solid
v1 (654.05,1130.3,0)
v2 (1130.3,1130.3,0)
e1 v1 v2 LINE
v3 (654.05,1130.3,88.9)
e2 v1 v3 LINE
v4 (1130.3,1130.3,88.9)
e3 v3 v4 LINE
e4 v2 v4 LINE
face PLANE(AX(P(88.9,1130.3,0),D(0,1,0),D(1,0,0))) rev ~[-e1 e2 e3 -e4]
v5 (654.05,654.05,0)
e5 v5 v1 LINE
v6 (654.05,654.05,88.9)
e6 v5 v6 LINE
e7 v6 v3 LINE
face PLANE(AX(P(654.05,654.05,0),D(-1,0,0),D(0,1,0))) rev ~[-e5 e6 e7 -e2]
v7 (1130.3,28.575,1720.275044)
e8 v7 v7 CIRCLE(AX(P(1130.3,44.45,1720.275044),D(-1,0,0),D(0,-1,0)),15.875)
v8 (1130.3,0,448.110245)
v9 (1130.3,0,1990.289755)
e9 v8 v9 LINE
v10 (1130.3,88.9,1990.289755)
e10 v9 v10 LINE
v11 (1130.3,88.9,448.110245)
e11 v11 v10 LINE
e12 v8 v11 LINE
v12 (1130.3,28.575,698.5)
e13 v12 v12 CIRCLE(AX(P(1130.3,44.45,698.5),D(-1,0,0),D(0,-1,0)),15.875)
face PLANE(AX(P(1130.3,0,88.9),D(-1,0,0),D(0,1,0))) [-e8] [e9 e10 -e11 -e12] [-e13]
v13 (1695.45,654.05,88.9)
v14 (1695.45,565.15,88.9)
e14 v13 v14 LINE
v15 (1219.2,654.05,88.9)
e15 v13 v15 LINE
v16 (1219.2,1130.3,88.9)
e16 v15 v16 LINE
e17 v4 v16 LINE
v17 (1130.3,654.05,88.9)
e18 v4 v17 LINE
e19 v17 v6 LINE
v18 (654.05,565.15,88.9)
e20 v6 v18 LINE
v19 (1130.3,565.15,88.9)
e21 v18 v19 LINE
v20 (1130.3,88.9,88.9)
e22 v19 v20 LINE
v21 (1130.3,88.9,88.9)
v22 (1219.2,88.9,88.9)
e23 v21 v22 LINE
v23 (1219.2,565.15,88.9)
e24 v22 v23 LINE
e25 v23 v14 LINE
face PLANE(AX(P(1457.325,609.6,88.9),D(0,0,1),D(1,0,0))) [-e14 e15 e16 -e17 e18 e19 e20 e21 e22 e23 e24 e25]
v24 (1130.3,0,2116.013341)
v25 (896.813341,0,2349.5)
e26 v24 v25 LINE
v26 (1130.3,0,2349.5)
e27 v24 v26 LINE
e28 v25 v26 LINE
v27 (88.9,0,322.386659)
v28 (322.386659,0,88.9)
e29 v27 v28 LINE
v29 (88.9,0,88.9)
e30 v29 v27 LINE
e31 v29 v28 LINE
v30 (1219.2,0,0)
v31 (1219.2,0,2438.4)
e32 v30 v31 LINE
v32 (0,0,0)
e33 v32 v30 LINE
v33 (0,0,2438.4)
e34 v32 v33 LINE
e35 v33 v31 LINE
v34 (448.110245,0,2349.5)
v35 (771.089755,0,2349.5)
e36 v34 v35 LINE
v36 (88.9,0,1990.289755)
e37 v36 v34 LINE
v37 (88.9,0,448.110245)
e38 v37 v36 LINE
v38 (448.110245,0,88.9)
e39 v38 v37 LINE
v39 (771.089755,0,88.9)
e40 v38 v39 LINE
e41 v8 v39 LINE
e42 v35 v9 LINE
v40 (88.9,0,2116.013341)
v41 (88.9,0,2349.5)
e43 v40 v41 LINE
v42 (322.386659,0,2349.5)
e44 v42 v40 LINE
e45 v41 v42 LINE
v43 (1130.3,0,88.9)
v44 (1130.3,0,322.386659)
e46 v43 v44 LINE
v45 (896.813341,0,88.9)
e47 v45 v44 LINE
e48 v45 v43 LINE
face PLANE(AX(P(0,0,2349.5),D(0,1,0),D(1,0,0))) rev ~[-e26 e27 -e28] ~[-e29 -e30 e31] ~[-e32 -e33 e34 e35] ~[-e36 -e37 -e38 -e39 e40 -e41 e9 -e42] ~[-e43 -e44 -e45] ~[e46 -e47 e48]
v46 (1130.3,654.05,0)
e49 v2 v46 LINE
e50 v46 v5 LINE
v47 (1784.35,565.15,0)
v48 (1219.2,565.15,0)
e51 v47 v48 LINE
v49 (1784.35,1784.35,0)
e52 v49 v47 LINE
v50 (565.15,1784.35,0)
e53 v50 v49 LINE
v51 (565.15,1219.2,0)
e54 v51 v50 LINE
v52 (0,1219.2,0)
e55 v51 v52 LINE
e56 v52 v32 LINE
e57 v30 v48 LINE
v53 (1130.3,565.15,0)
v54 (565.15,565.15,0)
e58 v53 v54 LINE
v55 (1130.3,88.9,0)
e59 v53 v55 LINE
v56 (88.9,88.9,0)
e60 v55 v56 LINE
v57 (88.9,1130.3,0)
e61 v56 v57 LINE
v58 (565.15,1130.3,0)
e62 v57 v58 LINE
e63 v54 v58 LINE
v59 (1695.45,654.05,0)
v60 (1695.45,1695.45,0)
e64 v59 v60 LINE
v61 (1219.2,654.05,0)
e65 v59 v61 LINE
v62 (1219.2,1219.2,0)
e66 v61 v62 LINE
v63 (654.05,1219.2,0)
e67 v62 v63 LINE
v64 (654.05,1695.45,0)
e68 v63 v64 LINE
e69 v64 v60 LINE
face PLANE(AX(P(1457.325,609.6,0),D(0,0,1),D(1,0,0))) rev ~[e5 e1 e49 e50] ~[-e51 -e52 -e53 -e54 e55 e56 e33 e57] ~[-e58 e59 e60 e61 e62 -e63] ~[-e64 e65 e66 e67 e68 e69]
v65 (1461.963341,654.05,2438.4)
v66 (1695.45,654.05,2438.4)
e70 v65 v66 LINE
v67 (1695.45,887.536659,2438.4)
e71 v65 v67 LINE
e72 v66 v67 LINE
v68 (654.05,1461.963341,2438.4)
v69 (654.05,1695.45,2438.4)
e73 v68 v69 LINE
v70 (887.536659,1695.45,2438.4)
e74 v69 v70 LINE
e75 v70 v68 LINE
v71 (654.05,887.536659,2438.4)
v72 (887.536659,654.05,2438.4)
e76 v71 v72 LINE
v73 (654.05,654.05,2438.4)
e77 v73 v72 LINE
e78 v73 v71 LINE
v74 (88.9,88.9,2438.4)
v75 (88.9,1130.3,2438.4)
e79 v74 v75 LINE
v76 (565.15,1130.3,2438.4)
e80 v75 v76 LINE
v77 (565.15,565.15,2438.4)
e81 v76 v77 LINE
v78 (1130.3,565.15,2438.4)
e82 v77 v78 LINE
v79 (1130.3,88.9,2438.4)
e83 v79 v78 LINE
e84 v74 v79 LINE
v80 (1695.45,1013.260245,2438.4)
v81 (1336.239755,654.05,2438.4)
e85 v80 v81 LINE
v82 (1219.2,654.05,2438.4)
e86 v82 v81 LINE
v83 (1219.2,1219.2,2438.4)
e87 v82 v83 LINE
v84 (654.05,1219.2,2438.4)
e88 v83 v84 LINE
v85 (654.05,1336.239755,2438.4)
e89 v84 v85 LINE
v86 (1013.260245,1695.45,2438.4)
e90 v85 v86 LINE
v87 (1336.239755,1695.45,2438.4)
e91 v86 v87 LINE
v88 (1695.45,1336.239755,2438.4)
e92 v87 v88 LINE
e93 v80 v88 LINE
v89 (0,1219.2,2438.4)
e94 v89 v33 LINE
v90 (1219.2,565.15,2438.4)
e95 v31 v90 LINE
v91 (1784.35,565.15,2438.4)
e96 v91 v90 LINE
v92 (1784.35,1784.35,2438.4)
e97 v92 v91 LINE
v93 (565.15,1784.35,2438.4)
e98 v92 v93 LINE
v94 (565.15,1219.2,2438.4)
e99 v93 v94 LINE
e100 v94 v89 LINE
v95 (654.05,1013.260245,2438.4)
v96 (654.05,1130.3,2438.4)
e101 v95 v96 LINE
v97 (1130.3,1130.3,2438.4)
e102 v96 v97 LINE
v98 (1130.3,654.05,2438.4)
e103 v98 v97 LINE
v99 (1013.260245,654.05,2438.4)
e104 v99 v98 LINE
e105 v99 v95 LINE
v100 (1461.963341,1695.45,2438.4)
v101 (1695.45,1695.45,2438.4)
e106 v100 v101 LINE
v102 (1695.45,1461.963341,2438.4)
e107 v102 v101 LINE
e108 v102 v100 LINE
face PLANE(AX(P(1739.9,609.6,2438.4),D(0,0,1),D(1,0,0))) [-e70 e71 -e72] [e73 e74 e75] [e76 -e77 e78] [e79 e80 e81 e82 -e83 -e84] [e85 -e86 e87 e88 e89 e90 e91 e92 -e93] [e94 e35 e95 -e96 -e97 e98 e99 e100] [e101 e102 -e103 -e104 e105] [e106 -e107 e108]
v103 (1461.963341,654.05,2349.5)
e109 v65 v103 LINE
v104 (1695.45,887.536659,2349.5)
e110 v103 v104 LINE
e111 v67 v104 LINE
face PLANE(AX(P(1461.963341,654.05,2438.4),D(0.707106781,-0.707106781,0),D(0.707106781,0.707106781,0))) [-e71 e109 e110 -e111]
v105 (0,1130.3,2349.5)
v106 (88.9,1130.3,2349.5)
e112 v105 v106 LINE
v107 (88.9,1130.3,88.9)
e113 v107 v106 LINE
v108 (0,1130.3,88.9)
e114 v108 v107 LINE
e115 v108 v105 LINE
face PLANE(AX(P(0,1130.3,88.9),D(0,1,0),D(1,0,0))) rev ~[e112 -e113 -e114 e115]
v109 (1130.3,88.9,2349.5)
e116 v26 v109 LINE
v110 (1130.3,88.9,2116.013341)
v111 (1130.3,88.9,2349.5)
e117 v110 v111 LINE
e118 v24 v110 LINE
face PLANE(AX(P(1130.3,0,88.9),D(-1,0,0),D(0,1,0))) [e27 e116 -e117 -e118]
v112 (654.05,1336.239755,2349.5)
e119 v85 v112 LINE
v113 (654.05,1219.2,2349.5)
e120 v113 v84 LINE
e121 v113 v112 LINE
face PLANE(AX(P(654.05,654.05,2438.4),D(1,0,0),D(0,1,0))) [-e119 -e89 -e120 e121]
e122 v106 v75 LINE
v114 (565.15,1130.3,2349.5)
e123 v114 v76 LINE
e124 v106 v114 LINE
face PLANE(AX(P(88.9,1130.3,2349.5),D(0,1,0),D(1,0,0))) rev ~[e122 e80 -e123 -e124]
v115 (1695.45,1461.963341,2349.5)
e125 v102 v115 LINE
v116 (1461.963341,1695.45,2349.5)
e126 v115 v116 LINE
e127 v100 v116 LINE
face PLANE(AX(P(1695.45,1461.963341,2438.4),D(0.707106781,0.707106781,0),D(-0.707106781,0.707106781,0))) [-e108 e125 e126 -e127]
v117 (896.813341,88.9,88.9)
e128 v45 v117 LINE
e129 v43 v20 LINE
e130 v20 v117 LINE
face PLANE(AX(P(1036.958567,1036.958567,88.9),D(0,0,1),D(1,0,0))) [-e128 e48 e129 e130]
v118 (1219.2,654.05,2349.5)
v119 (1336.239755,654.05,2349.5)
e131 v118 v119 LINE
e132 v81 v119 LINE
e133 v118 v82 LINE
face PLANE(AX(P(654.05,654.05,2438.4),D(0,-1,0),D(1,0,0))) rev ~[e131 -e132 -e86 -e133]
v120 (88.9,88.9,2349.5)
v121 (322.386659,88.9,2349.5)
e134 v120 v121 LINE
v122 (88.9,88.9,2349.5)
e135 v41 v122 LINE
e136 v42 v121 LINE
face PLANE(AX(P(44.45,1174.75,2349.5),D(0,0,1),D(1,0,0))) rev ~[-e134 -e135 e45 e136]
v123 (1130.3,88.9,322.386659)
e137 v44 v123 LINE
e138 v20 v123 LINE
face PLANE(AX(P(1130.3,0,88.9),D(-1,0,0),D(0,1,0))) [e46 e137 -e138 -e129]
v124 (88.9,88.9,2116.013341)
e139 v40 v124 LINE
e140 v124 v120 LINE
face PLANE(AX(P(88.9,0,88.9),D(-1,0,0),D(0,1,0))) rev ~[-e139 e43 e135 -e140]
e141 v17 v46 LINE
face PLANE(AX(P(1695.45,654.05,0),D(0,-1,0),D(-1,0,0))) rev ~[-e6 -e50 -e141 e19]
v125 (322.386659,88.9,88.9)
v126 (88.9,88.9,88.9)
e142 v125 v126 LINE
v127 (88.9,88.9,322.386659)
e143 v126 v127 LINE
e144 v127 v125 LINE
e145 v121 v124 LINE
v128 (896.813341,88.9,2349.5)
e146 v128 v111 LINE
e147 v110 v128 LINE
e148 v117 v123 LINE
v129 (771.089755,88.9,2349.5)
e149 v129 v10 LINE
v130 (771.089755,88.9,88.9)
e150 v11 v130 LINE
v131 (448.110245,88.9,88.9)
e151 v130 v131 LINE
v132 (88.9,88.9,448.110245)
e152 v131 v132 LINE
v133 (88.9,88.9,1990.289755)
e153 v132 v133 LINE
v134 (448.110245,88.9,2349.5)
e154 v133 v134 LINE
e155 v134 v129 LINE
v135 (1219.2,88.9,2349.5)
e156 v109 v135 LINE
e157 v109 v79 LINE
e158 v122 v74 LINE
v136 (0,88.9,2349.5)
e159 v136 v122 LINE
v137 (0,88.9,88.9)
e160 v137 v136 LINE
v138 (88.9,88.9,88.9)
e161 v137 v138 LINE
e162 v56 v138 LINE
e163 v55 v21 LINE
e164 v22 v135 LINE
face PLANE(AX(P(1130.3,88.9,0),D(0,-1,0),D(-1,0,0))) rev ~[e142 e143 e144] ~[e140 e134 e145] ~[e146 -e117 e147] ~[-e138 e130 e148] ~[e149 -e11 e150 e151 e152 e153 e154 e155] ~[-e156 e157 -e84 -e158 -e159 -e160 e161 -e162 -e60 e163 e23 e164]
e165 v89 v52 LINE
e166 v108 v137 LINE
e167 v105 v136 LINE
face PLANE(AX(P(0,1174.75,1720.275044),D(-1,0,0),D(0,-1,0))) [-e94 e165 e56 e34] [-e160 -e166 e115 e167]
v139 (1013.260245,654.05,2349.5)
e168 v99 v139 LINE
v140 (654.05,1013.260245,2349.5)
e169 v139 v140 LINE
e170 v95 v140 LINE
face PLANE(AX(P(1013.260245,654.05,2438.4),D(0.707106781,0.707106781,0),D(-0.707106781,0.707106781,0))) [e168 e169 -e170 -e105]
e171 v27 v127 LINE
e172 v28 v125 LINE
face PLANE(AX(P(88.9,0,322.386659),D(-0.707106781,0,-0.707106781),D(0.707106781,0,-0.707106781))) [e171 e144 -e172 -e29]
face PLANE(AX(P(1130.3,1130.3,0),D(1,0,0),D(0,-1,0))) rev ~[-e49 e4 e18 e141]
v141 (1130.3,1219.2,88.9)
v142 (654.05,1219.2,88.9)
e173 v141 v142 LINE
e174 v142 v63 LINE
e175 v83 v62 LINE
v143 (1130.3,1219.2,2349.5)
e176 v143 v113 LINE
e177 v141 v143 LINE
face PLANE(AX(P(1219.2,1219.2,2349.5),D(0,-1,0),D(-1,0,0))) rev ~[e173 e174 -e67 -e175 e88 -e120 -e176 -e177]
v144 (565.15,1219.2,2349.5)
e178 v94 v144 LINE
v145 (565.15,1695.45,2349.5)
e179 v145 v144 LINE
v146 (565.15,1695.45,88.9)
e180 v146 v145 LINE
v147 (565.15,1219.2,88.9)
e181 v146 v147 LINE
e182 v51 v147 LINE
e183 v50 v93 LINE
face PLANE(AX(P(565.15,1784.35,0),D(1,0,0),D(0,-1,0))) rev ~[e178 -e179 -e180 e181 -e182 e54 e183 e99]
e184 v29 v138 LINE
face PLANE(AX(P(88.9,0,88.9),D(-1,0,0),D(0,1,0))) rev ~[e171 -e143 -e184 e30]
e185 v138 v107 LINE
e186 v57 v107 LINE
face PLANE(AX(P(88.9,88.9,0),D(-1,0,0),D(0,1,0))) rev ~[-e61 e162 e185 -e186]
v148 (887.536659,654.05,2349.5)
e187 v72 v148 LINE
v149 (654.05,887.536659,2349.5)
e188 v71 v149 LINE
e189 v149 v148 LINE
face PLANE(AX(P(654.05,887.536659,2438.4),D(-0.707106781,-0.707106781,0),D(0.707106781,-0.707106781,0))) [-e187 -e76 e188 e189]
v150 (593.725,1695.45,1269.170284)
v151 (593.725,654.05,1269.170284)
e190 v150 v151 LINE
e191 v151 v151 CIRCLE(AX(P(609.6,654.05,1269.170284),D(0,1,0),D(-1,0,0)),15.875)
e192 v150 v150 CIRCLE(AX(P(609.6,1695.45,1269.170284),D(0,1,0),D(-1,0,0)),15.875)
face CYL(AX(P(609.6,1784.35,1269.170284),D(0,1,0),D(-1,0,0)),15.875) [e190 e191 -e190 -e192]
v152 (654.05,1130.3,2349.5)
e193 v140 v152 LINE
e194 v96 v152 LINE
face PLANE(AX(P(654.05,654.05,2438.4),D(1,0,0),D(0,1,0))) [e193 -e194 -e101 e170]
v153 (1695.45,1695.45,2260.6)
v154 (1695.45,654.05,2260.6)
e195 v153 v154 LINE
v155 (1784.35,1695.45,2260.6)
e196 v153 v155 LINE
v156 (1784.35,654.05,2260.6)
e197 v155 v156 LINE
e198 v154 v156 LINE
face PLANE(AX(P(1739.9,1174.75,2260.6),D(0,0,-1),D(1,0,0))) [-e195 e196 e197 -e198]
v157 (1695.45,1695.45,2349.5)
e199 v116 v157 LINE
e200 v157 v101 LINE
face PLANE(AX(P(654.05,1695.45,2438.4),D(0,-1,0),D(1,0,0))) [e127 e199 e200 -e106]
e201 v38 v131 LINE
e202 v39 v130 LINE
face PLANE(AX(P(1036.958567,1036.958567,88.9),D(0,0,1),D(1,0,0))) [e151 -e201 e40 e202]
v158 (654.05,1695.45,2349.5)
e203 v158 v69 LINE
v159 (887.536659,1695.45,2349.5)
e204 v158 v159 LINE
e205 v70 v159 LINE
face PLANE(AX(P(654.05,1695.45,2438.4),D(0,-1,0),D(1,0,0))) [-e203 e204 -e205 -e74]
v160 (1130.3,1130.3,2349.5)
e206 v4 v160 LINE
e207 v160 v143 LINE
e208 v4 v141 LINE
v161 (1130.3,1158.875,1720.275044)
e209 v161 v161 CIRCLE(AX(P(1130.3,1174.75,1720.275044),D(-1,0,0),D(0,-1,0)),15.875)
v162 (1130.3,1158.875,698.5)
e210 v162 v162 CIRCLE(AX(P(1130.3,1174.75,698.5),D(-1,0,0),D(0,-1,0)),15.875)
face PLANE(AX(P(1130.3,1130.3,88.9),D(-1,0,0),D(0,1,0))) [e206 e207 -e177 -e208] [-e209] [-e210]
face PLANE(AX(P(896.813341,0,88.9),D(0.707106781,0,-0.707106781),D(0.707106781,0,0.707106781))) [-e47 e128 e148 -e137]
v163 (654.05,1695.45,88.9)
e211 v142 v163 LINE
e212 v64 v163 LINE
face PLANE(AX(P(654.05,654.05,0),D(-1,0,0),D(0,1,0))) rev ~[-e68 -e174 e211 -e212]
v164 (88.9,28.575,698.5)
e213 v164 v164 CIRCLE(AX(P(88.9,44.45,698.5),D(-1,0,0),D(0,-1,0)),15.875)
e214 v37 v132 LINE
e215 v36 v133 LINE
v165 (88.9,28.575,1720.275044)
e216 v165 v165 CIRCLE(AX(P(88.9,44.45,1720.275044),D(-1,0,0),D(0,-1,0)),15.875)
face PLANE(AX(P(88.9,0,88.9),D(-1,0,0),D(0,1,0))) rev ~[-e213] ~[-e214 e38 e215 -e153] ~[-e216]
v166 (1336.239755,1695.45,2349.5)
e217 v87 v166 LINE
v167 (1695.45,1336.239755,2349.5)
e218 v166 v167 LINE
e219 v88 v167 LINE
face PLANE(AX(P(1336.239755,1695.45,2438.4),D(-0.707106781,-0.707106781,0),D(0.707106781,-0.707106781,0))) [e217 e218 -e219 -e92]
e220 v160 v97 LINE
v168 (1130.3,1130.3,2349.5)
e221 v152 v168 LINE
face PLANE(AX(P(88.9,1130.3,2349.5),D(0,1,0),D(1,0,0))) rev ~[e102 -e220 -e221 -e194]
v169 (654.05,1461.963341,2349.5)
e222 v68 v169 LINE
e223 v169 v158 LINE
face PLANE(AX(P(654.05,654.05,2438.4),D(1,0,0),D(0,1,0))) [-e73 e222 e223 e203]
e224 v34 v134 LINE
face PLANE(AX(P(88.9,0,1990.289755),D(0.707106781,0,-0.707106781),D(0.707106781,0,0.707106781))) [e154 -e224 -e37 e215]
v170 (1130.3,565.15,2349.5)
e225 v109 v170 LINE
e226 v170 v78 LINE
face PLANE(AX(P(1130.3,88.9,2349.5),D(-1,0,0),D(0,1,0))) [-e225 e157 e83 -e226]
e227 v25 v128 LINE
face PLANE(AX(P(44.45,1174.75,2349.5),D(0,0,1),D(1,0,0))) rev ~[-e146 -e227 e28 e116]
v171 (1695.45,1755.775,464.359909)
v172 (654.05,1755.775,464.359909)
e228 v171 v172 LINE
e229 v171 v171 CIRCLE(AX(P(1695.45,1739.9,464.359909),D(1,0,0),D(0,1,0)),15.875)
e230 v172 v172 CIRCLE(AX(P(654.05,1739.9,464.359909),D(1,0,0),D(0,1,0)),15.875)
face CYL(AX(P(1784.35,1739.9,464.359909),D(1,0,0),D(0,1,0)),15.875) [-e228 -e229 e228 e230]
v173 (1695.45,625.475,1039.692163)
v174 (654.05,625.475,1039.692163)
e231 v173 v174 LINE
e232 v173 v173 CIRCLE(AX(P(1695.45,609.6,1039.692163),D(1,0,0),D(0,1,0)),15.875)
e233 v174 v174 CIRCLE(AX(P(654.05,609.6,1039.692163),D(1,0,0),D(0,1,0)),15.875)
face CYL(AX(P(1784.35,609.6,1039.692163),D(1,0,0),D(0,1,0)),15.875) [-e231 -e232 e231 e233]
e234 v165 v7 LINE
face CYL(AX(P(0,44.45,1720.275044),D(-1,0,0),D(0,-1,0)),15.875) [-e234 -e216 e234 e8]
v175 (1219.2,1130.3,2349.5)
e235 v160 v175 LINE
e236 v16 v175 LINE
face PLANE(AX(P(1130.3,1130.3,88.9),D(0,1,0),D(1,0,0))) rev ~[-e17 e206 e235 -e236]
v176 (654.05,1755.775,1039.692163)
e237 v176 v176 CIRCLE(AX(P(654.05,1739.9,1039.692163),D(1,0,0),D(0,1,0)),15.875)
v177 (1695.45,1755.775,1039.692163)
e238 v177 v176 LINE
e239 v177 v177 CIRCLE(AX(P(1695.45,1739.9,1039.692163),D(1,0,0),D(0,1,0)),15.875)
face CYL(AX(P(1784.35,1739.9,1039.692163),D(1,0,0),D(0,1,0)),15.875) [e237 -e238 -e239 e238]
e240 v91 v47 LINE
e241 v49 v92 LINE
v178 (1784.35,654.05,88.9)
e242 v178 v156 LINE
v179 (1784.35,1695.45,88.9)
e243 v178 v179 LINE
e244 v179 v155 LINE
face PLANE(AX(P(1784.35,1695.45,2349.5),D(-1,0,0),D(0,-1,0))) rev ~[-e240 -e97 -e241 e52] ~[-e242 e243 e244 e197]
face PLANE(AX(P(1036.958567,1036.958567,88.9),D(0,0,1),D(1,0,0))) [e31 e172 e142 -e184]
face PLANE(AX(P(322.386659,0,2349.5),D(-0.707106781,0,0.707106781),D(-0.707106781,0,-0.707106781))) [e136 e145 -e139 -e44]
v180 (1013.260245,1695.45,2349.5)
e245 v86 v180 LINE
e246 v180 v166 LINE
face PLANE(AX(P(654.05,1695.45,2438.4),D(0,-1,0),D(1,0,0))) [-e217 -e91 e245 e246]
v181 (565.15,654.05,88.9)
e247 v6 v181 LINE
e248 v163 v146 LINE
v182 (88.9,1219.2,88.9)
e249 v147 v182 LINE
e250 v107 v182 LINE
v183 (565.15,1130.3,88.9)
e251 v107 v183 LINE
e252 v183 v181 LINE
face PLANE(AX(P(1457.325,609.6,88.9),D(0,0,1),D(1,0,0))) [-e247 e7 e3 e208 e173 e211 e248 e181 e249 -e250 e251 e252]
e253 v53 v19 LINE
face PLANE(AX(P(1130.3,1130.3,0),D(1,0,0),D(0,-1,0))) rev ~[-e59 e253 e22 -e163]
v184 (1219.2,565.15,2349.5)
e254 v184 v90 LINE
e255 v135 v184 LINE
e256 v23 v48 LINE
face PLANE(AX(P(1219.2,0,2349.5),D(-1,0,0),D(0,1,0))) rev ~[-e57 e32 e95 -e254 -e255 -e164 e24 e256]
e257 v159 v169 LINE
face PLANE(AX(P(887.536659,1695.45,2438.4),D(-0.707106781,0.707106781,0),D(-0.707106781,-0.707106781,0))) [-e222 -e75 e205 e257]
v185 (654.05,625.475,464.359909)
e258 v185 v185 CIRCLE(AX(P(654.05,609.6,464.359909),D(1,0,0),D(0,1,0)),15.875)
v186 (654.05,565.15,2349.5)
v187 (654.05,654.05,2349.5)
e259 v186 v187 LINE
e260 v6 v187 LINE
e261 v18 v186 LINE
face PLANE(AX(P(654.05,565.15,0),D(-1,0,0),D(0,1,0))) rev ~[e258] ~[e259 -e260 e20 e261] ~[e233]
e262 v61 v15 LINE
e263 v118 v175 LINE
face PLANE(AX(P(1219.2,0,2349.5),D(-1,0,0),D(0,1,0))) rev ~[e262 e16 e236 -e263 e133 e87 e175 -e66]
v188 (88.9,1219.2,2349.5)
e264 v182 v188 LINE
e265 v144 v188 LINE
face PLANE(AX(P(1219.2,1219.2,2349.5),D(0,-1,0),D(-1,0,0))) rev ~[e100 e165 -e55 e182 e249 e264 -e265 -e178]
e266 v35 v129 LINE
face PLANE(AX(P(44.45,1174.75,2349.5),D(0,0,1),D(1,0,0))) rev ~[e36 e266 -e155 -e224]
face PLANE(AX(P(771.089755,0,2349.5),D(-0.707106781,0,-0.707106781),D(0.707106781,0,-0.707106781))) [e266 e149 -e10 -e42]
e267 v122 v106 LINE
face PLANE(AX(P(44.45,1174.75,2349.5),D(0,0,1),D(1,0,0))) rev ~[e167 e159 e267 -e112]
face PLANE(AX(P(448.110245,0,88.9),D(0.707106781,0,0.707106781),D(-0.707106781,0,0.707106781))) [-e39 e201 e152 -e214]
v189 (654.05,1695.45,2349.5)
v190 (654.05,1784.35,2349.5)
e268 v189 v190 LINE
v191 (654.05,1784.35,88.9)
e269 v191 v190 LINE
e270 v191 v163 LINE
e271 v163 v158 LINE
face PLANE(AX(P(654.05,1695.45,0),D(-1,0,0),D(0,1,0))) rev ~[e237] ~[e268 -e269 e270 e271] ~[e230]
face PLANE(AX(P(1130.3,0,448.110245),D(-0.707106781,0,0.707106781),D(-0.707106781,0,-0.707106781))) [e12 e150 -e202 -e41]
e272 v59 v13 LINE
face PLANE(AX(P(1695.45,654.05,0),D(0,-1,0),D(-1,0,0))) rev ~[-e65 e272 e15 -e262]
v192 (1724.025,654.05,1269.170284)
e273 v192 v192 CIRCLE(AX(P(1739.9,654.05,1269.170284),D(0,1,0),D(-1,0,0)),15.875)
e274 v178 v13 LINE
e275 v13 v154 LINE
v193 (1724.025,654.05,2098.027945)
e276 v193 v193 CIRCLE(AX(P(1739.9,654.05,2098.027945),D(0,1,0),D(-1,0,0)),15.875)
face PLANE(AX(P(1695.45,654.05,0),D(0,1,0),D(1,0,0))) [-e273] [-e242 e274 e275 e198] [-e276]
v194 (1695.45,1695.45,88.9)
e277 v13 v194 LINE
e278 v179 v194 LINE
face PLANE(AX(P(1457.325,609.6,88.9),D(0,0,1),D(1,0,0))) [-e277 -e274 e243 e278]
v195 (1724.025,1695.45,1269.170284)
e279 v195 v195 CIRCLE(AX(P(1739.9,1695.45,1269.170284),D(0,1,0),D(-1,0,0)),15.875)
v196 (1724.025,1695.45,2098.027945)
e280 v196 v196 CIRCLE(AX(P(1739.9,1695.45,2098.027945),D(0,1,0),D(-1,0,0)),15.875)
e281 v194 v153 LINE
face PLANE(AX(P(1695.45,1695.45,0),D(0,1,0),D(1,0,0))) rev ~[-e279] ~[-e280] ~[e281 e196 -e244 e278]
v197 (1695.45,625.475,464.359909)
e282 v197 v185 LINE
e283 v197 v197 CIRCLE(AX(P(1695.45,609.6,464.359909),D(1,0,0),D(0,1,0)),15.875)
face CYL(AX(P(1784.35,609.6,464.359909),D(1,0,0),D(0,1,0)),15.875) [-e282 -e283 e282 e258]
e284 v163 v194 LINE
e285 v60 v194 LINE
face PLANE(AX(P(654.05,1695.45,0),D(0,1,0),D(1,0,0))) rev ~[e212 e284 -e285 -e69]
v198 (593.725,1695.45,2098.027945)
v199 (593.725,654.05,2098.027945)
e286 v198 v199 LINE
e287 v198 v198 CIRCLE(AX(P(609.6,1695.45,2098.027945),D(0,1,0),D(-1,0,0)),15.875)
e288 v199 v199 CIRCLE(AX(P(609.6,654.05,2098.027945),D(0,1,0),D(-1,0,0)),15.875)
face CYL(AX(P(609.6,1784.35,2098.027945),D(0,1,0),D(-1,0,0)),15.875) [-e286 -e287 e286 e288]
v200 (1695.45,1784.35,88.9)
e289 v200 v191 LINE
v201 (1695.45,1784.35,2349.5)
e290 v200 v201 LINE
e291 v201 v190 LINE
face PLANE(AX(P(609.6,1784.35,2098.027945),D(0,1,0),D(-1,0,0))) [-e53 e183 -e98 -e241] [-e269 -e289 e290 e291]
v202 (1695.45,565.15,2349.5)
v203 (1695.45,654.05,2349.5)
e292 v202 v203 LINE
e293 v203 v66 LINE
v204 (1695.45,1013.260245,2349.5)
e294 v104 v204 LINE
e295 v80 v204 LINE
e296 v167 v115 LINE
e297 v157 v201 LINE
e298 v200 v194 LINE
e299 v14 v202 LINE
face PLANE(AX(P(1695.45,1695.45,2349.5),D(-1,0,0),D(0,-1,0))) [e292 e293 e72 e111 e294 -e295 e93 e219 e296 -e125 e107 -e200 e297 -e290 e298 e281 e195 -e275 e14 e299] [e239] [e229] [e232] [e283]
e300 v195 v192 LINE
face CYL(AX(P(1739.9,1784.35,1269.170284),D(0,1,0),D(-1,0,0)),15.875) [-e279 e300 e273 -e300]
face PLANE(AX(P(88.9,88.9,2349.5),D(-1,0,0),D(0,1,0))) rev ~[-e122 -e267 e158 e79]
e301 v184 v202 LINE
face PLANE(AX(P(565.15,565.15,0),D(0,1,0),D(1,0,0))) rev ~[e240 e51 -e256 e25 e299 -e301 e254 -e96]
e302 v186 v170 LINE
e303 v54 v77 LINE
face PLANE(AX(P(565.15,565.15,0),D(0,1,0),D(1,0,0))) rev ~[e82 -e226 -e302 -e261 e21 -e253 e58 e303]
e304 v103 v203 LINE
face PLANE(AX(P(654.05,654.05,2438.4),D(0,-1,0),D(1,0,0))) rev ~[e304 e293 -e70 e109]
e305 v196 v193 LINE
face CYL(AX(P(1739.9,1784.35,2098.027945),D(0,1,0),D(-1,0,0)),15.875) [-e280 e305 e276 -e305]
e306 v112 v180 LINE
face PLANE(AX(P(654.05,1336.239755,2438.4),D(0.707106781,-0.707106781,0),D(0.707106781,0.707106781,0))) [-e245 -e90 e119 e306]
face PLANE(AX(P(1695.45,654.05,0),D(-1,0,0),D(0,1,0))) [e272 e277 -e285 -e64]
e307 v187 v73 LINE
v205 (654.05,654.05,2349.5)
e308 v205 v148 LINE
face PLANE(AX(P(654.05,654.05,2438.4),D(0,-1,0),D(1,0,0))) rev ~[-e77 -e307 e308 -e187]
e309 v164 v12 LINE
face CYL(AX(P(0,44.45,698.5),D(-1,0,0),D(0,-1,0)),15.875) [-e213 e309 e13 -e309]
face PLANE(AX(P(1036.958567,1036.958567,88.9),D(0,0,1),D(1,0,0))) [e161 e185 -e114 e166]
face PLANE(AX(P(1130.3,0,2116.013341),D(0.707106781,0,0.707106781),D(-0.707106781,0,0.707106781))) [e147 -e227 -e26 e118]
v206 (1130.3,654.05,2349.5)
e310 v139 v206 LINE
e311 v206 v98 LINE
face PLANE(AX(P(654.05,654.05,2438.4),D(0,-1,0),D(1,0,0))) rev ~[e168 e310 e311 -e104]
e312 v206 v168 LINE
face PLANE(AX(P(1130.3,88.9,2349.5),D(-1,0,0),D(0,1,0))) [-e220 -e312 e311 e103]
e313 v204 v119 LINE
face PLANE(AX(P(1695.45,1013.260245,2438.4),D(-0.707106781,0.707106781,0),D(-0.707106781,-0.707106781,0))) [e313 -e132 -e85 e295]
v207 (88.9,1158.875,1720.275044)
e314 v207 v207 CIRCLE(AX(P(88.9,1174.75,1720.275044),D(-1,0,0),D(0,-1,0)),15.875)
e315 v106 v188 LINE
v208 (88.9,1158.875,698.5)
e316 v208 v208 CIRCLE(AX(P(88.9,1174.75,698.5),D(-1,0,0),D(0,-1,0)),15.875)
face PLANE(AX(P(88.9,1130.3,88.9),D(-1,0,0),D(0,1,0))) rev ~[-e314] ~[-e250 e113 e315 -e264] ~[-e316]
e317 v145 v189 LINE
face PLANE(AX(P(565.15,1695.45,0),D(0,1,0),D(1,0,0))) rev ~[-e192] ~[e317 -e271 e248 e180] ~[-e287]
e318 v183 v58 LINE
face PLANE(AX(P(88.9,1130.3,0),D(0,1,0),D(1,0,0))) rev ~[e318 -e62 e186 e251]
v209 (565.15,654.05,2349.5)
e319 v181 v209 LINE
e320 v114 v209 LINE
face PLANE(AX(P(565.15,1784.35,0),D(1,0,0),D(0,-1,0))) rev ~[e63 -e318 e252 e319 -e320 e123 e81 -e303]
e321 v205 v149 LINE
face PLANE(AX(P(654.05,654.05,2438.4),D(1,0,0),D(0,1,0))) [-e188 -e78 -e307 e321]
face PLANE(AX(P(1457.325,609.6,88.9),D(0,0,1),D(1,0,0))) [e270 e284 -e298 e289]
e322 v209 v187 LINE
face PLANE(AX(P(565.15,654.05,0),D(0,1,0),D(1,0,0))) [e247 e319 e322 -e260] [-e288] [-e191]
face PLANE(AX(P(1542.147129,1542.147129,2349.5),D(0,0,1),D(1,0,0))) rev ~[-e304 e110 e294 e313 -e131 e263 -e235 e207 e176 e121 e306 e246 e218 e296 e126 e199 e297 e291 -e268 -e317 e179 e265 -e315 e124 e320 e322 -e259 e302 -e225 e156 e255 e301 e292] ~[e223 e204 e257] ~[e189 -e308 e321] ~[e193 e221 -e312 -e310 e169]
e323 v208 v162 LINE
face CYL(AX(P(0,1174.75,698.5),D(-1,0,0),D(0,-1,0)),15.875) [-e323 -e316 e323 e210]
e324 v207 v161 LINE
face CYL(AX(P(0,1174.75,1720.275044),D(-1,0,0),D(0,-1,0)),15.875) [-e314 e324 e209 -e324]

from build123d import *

# Parameters (mm, degrees)
F0_W       = 88.9
F0_H       = 88.9
F1_DEPTH   = 88.9
F2_W       = 88.9
F2_H       = 88.9
F3_DEPTH   = 2260.6
F4_W       = 88.9
F4_H       = 88.9
F4_W_2     = 1041.4
F4_H_2     = 1041.4
F5_DEPTH   = 88.9
F0_W_2     = 476.25
F0_H_2     = 1041.4
F0_W_3     = 1041.4
F0_H_3     = 476.25
F6_DEPTH   = 88.9
F7_DEPTH   = 2438.4
F8_W       = 1041.4
F8_H       = 1041.4
F8_W_2     = 88.9
F8_H_2     = 88.9
F9_DEPTH   = 88.9
F10_R      = 15.875
F11_DEPTH  = 1219.2
F12_R      = 15.875
F13_DEPTH  = 1219.2
F14_R      = 15.875
F15_DEPTH  = 1219.2
F17_DEPTH  = 88.9
F9_FACE3_W = 88.9
F9_FACE3_H = 1041.4
F19_DEPTH  = 88.9


with BuildPart() as f1:
    # F0 (on Top) → F1 (new body)
    with BuildSketch(Plane.XY):
        Polygon((1130.3, 654.05), (1219.2, 654.05), (1219.2, 1219.2), (654.05, 1219.2), (654.05, 1130.3), (1130.3, 1130.3), align=None)
        with Locations((1174.75, 609.6)):
            Rectangle(F0_W, F0_H)
        Polygon((0, 1219.2), (0, 0), (1219.2, 0), (1219.2, 565.15), (1130.3, 565.15), (1130.3, 88.9), (88.9, 88.9), (88.9, 1130.3), (565.15, 1130.3), (565.15, 1219.2), align=None)
        with Locations((609.6, 1174.75)):
            Rectangle(F0_W, F0_H)
    extrude(amount=F1_DEPTH)

    # F2 (on face) → F3 (join)
    with BuildSketch(Plane.XY.offset(88.9)):
        with Locations((44.45, 1174.75)):
            Rectangle(F2_W, F2_H)
        with Locations((1174.75, 1174.75)):
            Rectangle(F2_W, F2_H)
        with Locations((1174.75, 44.45)):
            Rectangle(F2_W, F2_H)
        with Locations((44.45, 44.45)):
            Rectangle(F2_W, F2_H)
    extrude(amount=F3_DEPTH)

    # F4 (on face) → F5 (join)
    with BuildSketch(Plane.XY.offset(2349.5)):
        with Locations((44.45, 1174.75)):
            Rectangle(F4_W, F4_H)
        Polygon((1219.2, 1219.2), (88.9, 1219.2), (88.9, 1130.3), (0, 1130.3), (0, 0), (1219.2, 0), align=None)
        with Locations((609.6, 609.6)):
            Rectangle(F4_W_2, F4_H_2, mode=Mode.SUBTRACT)
    extrude(amount=F5_DEPTH)

    # F0 (on Top) → F6 (join)
    with BuildSketch(Plane.XY):
        with Locations((1457.325, 609.6)):
            Rectangle(F0_W_2, F0_H)
        with Locations((892.175, 609.6)):
            Rectangle(F0_W_2, F0_H)
        with Locations((1739.9, 1174.75)):
            Rectangle(F0_W, F0_H_2)
        with Locations((1174.75, 1739.9)):
            Rectangle(F0_W_3, F0_H)
        with Locations((609.6, 1457.325)):
            Rectangle(F0_W, F0_H_3)
        with Locations((609.6, 892.175)):
            Rectangle(F0_W, F0_H_3)
        with Locations((1174.75, 609.6)):
            Rectangle(F0_W, F0_H)
        with Locations((609.6, 1174.75)):
            Rectangle(F0_W, F0_H)
        with Locations((1739.9, 609.6)):
            Rectangle(F0_W, F0_H)
        with Locations((1739.9, 1739.9)):
            Rectangle(F0_W, F0_H)
        with Locations((609.6, 1739.9)):
            Rectangle(F0_W, F0_H)
        with Locations((609.6, 609.6)):
            Rectangle(F0_W, F0_H)
    extrude(amount=F6_DEPTH)

    # F0 (on Top) → F7 (join)
    with BuildSketch(Plane.XY):
        with Locations((1739.9, 609.6)):
            Rectangle(F0_W, F0_H)
        with Locations((609.6, 609.6)):
            Rectangle(F0_W, F0_H)
        with Locations((609.6, 1739.9)):
            Rectangle(F0_W, F0_H)
        with Locations((1739.9, 1739.9)):
            Rectangle(F0_W, F0_H)
    extrude(amount=F7_DEPTH)

    # F8 (on face) → F9 (join)
    with BuildSketch(Plane.XY.offset(2438.4)):
        Polygon((1784.35, 1784.35), (565.15, 1784.35), (565.15, 654.05), (654.05, 654.05), (654.05, 565.15), (1784.35, 565.15), align=None)
        with Locations((1174.75, 1174.75)):
            Rectangle(F8_W, F8_H, mode=Mode.SUBTRACT)
        with Locations((609.6, 609.6)):
            Rectangle(F8_W_2, F8_H_2)
    extrude(amount=-F9_DEPTH)

    # F10 (on face) → F11 (join, through all)
    with BuildSketch(Plane(origin=(0, 0, 0), x_dir=(0, -1, 0), z_dir=(-1, 0, 0))):
        with Locations((-1174.75, 1720.2750444412)):
            Circle(F10_R)
        with Locations((-1174.75, 698.5)):
            Circle(F10_R)
        with Locations((-44.45, 1720.2750444412)):
            Circle(F10_R)
        with Locations((-44.45, 698.5)):
            Circle(F10_R)
    extrude(amount=-F11_DEPTH)

    # F12 (on face) → F13 (join, through all)
    with BuildSketch(Plane(origin=(0, 1784.35, 0), x_dir=(-1, 0, 0), z_dir=(0, 1, 0))):
        with Locations((-609.6, 2098.0279445648)):
            Circle(F12_R)
        with Locations((-609.6, 1269.1702842712)):
            Circle(F12_R)
        with Locations((-1739.9, 2098.0279445648)):
            Circle(F12_R)
        with Locations((-1739.9, 1269.1702842712)):
            Circle(F12_R)
    extrude(amount=-F13_DEPTH)

    # F14 (on face) → F15 (join, through all)
    with BuildSketch(Plane.YZ.offset(1784.35)):
        with Locations((609.6, 1039.6921634674)):
            Circle(F14_R)
        with Locations((1739.9, 1039.6921634674)):
            Circle(F14_R)
        with Locations((1739.9, 464.359909296)):
            Circle(F14_R)
        with Locations((609.6, 464.359909296)):
            Circle(F14_R)
    extrude(amount=-F15_DEPTH)

    # F16 (on face) → F17 (join, through all)
    with BuildSketch(Plane.XZ):
        Polygon((88.9, 1990.2897551572), (448.1102448428, 2349.5), (322.3866591478, 2349.5), (88.9, 2116.0133408522), align=None)
        Polygon((771.0897551572, 2349.5), (1130.3, 1990.2897551572), (1130.3, 2116.0133408522), (896.8133408522, 2349.5), align=None)
        Polygon((1130.3, 322.3866591478), (1130.3, 448.1102448428), (771.0897551572, 88.9), (896.8133408522, 88.9), align=None)
        Polygon((322.3866591478, 88.9), (448.1102448428, 88.9), (88.9, 448.1102448428), (88.9, 322.3866591478), align=None)
    extrude(amount=-F17_DEPTH)

    # F18 (on face) + F9_face3 (on face) → F19 (join)
    with BuildSketch(Plane.XY.offset(2438.4)):
        Polygon((887.5366591478, 1695.45), (654.05, 1461.9633408522), (654.05, 1336.2397551572), (1013.2602448428, 1695.45), align=None)
        Polygon((1461.9633408522, 1695.45), (1336.2397551572, 1695.45), (1695.45, 1336.2397551572), (1695.45, 1461.9633408522), align=None)
        Polygon((1695.45, 887.5366591478), (1695.45, 1013.2602448428), (1336.2397551572, 654.05), (1461.9633408522, 654.05), align=None)
        Polygon((887.5366591478, 654.05), (1013.2602448428, 654.05), (654.05, 1013.2602448428), (654.05, 887.5366591478), align=None)
    with BuildSketch(Plane(origin=(1739.9, 1174.75, 2349.5), x_dir=(1, 0, 0), z_dir=(0, 0, -1))):
        Rectangle(F9_FACE3_W, F9_FACE3_H)
    extrude(amount=-F19_DEPTH, dir=(0, 0, 1))


solid = f1.part
